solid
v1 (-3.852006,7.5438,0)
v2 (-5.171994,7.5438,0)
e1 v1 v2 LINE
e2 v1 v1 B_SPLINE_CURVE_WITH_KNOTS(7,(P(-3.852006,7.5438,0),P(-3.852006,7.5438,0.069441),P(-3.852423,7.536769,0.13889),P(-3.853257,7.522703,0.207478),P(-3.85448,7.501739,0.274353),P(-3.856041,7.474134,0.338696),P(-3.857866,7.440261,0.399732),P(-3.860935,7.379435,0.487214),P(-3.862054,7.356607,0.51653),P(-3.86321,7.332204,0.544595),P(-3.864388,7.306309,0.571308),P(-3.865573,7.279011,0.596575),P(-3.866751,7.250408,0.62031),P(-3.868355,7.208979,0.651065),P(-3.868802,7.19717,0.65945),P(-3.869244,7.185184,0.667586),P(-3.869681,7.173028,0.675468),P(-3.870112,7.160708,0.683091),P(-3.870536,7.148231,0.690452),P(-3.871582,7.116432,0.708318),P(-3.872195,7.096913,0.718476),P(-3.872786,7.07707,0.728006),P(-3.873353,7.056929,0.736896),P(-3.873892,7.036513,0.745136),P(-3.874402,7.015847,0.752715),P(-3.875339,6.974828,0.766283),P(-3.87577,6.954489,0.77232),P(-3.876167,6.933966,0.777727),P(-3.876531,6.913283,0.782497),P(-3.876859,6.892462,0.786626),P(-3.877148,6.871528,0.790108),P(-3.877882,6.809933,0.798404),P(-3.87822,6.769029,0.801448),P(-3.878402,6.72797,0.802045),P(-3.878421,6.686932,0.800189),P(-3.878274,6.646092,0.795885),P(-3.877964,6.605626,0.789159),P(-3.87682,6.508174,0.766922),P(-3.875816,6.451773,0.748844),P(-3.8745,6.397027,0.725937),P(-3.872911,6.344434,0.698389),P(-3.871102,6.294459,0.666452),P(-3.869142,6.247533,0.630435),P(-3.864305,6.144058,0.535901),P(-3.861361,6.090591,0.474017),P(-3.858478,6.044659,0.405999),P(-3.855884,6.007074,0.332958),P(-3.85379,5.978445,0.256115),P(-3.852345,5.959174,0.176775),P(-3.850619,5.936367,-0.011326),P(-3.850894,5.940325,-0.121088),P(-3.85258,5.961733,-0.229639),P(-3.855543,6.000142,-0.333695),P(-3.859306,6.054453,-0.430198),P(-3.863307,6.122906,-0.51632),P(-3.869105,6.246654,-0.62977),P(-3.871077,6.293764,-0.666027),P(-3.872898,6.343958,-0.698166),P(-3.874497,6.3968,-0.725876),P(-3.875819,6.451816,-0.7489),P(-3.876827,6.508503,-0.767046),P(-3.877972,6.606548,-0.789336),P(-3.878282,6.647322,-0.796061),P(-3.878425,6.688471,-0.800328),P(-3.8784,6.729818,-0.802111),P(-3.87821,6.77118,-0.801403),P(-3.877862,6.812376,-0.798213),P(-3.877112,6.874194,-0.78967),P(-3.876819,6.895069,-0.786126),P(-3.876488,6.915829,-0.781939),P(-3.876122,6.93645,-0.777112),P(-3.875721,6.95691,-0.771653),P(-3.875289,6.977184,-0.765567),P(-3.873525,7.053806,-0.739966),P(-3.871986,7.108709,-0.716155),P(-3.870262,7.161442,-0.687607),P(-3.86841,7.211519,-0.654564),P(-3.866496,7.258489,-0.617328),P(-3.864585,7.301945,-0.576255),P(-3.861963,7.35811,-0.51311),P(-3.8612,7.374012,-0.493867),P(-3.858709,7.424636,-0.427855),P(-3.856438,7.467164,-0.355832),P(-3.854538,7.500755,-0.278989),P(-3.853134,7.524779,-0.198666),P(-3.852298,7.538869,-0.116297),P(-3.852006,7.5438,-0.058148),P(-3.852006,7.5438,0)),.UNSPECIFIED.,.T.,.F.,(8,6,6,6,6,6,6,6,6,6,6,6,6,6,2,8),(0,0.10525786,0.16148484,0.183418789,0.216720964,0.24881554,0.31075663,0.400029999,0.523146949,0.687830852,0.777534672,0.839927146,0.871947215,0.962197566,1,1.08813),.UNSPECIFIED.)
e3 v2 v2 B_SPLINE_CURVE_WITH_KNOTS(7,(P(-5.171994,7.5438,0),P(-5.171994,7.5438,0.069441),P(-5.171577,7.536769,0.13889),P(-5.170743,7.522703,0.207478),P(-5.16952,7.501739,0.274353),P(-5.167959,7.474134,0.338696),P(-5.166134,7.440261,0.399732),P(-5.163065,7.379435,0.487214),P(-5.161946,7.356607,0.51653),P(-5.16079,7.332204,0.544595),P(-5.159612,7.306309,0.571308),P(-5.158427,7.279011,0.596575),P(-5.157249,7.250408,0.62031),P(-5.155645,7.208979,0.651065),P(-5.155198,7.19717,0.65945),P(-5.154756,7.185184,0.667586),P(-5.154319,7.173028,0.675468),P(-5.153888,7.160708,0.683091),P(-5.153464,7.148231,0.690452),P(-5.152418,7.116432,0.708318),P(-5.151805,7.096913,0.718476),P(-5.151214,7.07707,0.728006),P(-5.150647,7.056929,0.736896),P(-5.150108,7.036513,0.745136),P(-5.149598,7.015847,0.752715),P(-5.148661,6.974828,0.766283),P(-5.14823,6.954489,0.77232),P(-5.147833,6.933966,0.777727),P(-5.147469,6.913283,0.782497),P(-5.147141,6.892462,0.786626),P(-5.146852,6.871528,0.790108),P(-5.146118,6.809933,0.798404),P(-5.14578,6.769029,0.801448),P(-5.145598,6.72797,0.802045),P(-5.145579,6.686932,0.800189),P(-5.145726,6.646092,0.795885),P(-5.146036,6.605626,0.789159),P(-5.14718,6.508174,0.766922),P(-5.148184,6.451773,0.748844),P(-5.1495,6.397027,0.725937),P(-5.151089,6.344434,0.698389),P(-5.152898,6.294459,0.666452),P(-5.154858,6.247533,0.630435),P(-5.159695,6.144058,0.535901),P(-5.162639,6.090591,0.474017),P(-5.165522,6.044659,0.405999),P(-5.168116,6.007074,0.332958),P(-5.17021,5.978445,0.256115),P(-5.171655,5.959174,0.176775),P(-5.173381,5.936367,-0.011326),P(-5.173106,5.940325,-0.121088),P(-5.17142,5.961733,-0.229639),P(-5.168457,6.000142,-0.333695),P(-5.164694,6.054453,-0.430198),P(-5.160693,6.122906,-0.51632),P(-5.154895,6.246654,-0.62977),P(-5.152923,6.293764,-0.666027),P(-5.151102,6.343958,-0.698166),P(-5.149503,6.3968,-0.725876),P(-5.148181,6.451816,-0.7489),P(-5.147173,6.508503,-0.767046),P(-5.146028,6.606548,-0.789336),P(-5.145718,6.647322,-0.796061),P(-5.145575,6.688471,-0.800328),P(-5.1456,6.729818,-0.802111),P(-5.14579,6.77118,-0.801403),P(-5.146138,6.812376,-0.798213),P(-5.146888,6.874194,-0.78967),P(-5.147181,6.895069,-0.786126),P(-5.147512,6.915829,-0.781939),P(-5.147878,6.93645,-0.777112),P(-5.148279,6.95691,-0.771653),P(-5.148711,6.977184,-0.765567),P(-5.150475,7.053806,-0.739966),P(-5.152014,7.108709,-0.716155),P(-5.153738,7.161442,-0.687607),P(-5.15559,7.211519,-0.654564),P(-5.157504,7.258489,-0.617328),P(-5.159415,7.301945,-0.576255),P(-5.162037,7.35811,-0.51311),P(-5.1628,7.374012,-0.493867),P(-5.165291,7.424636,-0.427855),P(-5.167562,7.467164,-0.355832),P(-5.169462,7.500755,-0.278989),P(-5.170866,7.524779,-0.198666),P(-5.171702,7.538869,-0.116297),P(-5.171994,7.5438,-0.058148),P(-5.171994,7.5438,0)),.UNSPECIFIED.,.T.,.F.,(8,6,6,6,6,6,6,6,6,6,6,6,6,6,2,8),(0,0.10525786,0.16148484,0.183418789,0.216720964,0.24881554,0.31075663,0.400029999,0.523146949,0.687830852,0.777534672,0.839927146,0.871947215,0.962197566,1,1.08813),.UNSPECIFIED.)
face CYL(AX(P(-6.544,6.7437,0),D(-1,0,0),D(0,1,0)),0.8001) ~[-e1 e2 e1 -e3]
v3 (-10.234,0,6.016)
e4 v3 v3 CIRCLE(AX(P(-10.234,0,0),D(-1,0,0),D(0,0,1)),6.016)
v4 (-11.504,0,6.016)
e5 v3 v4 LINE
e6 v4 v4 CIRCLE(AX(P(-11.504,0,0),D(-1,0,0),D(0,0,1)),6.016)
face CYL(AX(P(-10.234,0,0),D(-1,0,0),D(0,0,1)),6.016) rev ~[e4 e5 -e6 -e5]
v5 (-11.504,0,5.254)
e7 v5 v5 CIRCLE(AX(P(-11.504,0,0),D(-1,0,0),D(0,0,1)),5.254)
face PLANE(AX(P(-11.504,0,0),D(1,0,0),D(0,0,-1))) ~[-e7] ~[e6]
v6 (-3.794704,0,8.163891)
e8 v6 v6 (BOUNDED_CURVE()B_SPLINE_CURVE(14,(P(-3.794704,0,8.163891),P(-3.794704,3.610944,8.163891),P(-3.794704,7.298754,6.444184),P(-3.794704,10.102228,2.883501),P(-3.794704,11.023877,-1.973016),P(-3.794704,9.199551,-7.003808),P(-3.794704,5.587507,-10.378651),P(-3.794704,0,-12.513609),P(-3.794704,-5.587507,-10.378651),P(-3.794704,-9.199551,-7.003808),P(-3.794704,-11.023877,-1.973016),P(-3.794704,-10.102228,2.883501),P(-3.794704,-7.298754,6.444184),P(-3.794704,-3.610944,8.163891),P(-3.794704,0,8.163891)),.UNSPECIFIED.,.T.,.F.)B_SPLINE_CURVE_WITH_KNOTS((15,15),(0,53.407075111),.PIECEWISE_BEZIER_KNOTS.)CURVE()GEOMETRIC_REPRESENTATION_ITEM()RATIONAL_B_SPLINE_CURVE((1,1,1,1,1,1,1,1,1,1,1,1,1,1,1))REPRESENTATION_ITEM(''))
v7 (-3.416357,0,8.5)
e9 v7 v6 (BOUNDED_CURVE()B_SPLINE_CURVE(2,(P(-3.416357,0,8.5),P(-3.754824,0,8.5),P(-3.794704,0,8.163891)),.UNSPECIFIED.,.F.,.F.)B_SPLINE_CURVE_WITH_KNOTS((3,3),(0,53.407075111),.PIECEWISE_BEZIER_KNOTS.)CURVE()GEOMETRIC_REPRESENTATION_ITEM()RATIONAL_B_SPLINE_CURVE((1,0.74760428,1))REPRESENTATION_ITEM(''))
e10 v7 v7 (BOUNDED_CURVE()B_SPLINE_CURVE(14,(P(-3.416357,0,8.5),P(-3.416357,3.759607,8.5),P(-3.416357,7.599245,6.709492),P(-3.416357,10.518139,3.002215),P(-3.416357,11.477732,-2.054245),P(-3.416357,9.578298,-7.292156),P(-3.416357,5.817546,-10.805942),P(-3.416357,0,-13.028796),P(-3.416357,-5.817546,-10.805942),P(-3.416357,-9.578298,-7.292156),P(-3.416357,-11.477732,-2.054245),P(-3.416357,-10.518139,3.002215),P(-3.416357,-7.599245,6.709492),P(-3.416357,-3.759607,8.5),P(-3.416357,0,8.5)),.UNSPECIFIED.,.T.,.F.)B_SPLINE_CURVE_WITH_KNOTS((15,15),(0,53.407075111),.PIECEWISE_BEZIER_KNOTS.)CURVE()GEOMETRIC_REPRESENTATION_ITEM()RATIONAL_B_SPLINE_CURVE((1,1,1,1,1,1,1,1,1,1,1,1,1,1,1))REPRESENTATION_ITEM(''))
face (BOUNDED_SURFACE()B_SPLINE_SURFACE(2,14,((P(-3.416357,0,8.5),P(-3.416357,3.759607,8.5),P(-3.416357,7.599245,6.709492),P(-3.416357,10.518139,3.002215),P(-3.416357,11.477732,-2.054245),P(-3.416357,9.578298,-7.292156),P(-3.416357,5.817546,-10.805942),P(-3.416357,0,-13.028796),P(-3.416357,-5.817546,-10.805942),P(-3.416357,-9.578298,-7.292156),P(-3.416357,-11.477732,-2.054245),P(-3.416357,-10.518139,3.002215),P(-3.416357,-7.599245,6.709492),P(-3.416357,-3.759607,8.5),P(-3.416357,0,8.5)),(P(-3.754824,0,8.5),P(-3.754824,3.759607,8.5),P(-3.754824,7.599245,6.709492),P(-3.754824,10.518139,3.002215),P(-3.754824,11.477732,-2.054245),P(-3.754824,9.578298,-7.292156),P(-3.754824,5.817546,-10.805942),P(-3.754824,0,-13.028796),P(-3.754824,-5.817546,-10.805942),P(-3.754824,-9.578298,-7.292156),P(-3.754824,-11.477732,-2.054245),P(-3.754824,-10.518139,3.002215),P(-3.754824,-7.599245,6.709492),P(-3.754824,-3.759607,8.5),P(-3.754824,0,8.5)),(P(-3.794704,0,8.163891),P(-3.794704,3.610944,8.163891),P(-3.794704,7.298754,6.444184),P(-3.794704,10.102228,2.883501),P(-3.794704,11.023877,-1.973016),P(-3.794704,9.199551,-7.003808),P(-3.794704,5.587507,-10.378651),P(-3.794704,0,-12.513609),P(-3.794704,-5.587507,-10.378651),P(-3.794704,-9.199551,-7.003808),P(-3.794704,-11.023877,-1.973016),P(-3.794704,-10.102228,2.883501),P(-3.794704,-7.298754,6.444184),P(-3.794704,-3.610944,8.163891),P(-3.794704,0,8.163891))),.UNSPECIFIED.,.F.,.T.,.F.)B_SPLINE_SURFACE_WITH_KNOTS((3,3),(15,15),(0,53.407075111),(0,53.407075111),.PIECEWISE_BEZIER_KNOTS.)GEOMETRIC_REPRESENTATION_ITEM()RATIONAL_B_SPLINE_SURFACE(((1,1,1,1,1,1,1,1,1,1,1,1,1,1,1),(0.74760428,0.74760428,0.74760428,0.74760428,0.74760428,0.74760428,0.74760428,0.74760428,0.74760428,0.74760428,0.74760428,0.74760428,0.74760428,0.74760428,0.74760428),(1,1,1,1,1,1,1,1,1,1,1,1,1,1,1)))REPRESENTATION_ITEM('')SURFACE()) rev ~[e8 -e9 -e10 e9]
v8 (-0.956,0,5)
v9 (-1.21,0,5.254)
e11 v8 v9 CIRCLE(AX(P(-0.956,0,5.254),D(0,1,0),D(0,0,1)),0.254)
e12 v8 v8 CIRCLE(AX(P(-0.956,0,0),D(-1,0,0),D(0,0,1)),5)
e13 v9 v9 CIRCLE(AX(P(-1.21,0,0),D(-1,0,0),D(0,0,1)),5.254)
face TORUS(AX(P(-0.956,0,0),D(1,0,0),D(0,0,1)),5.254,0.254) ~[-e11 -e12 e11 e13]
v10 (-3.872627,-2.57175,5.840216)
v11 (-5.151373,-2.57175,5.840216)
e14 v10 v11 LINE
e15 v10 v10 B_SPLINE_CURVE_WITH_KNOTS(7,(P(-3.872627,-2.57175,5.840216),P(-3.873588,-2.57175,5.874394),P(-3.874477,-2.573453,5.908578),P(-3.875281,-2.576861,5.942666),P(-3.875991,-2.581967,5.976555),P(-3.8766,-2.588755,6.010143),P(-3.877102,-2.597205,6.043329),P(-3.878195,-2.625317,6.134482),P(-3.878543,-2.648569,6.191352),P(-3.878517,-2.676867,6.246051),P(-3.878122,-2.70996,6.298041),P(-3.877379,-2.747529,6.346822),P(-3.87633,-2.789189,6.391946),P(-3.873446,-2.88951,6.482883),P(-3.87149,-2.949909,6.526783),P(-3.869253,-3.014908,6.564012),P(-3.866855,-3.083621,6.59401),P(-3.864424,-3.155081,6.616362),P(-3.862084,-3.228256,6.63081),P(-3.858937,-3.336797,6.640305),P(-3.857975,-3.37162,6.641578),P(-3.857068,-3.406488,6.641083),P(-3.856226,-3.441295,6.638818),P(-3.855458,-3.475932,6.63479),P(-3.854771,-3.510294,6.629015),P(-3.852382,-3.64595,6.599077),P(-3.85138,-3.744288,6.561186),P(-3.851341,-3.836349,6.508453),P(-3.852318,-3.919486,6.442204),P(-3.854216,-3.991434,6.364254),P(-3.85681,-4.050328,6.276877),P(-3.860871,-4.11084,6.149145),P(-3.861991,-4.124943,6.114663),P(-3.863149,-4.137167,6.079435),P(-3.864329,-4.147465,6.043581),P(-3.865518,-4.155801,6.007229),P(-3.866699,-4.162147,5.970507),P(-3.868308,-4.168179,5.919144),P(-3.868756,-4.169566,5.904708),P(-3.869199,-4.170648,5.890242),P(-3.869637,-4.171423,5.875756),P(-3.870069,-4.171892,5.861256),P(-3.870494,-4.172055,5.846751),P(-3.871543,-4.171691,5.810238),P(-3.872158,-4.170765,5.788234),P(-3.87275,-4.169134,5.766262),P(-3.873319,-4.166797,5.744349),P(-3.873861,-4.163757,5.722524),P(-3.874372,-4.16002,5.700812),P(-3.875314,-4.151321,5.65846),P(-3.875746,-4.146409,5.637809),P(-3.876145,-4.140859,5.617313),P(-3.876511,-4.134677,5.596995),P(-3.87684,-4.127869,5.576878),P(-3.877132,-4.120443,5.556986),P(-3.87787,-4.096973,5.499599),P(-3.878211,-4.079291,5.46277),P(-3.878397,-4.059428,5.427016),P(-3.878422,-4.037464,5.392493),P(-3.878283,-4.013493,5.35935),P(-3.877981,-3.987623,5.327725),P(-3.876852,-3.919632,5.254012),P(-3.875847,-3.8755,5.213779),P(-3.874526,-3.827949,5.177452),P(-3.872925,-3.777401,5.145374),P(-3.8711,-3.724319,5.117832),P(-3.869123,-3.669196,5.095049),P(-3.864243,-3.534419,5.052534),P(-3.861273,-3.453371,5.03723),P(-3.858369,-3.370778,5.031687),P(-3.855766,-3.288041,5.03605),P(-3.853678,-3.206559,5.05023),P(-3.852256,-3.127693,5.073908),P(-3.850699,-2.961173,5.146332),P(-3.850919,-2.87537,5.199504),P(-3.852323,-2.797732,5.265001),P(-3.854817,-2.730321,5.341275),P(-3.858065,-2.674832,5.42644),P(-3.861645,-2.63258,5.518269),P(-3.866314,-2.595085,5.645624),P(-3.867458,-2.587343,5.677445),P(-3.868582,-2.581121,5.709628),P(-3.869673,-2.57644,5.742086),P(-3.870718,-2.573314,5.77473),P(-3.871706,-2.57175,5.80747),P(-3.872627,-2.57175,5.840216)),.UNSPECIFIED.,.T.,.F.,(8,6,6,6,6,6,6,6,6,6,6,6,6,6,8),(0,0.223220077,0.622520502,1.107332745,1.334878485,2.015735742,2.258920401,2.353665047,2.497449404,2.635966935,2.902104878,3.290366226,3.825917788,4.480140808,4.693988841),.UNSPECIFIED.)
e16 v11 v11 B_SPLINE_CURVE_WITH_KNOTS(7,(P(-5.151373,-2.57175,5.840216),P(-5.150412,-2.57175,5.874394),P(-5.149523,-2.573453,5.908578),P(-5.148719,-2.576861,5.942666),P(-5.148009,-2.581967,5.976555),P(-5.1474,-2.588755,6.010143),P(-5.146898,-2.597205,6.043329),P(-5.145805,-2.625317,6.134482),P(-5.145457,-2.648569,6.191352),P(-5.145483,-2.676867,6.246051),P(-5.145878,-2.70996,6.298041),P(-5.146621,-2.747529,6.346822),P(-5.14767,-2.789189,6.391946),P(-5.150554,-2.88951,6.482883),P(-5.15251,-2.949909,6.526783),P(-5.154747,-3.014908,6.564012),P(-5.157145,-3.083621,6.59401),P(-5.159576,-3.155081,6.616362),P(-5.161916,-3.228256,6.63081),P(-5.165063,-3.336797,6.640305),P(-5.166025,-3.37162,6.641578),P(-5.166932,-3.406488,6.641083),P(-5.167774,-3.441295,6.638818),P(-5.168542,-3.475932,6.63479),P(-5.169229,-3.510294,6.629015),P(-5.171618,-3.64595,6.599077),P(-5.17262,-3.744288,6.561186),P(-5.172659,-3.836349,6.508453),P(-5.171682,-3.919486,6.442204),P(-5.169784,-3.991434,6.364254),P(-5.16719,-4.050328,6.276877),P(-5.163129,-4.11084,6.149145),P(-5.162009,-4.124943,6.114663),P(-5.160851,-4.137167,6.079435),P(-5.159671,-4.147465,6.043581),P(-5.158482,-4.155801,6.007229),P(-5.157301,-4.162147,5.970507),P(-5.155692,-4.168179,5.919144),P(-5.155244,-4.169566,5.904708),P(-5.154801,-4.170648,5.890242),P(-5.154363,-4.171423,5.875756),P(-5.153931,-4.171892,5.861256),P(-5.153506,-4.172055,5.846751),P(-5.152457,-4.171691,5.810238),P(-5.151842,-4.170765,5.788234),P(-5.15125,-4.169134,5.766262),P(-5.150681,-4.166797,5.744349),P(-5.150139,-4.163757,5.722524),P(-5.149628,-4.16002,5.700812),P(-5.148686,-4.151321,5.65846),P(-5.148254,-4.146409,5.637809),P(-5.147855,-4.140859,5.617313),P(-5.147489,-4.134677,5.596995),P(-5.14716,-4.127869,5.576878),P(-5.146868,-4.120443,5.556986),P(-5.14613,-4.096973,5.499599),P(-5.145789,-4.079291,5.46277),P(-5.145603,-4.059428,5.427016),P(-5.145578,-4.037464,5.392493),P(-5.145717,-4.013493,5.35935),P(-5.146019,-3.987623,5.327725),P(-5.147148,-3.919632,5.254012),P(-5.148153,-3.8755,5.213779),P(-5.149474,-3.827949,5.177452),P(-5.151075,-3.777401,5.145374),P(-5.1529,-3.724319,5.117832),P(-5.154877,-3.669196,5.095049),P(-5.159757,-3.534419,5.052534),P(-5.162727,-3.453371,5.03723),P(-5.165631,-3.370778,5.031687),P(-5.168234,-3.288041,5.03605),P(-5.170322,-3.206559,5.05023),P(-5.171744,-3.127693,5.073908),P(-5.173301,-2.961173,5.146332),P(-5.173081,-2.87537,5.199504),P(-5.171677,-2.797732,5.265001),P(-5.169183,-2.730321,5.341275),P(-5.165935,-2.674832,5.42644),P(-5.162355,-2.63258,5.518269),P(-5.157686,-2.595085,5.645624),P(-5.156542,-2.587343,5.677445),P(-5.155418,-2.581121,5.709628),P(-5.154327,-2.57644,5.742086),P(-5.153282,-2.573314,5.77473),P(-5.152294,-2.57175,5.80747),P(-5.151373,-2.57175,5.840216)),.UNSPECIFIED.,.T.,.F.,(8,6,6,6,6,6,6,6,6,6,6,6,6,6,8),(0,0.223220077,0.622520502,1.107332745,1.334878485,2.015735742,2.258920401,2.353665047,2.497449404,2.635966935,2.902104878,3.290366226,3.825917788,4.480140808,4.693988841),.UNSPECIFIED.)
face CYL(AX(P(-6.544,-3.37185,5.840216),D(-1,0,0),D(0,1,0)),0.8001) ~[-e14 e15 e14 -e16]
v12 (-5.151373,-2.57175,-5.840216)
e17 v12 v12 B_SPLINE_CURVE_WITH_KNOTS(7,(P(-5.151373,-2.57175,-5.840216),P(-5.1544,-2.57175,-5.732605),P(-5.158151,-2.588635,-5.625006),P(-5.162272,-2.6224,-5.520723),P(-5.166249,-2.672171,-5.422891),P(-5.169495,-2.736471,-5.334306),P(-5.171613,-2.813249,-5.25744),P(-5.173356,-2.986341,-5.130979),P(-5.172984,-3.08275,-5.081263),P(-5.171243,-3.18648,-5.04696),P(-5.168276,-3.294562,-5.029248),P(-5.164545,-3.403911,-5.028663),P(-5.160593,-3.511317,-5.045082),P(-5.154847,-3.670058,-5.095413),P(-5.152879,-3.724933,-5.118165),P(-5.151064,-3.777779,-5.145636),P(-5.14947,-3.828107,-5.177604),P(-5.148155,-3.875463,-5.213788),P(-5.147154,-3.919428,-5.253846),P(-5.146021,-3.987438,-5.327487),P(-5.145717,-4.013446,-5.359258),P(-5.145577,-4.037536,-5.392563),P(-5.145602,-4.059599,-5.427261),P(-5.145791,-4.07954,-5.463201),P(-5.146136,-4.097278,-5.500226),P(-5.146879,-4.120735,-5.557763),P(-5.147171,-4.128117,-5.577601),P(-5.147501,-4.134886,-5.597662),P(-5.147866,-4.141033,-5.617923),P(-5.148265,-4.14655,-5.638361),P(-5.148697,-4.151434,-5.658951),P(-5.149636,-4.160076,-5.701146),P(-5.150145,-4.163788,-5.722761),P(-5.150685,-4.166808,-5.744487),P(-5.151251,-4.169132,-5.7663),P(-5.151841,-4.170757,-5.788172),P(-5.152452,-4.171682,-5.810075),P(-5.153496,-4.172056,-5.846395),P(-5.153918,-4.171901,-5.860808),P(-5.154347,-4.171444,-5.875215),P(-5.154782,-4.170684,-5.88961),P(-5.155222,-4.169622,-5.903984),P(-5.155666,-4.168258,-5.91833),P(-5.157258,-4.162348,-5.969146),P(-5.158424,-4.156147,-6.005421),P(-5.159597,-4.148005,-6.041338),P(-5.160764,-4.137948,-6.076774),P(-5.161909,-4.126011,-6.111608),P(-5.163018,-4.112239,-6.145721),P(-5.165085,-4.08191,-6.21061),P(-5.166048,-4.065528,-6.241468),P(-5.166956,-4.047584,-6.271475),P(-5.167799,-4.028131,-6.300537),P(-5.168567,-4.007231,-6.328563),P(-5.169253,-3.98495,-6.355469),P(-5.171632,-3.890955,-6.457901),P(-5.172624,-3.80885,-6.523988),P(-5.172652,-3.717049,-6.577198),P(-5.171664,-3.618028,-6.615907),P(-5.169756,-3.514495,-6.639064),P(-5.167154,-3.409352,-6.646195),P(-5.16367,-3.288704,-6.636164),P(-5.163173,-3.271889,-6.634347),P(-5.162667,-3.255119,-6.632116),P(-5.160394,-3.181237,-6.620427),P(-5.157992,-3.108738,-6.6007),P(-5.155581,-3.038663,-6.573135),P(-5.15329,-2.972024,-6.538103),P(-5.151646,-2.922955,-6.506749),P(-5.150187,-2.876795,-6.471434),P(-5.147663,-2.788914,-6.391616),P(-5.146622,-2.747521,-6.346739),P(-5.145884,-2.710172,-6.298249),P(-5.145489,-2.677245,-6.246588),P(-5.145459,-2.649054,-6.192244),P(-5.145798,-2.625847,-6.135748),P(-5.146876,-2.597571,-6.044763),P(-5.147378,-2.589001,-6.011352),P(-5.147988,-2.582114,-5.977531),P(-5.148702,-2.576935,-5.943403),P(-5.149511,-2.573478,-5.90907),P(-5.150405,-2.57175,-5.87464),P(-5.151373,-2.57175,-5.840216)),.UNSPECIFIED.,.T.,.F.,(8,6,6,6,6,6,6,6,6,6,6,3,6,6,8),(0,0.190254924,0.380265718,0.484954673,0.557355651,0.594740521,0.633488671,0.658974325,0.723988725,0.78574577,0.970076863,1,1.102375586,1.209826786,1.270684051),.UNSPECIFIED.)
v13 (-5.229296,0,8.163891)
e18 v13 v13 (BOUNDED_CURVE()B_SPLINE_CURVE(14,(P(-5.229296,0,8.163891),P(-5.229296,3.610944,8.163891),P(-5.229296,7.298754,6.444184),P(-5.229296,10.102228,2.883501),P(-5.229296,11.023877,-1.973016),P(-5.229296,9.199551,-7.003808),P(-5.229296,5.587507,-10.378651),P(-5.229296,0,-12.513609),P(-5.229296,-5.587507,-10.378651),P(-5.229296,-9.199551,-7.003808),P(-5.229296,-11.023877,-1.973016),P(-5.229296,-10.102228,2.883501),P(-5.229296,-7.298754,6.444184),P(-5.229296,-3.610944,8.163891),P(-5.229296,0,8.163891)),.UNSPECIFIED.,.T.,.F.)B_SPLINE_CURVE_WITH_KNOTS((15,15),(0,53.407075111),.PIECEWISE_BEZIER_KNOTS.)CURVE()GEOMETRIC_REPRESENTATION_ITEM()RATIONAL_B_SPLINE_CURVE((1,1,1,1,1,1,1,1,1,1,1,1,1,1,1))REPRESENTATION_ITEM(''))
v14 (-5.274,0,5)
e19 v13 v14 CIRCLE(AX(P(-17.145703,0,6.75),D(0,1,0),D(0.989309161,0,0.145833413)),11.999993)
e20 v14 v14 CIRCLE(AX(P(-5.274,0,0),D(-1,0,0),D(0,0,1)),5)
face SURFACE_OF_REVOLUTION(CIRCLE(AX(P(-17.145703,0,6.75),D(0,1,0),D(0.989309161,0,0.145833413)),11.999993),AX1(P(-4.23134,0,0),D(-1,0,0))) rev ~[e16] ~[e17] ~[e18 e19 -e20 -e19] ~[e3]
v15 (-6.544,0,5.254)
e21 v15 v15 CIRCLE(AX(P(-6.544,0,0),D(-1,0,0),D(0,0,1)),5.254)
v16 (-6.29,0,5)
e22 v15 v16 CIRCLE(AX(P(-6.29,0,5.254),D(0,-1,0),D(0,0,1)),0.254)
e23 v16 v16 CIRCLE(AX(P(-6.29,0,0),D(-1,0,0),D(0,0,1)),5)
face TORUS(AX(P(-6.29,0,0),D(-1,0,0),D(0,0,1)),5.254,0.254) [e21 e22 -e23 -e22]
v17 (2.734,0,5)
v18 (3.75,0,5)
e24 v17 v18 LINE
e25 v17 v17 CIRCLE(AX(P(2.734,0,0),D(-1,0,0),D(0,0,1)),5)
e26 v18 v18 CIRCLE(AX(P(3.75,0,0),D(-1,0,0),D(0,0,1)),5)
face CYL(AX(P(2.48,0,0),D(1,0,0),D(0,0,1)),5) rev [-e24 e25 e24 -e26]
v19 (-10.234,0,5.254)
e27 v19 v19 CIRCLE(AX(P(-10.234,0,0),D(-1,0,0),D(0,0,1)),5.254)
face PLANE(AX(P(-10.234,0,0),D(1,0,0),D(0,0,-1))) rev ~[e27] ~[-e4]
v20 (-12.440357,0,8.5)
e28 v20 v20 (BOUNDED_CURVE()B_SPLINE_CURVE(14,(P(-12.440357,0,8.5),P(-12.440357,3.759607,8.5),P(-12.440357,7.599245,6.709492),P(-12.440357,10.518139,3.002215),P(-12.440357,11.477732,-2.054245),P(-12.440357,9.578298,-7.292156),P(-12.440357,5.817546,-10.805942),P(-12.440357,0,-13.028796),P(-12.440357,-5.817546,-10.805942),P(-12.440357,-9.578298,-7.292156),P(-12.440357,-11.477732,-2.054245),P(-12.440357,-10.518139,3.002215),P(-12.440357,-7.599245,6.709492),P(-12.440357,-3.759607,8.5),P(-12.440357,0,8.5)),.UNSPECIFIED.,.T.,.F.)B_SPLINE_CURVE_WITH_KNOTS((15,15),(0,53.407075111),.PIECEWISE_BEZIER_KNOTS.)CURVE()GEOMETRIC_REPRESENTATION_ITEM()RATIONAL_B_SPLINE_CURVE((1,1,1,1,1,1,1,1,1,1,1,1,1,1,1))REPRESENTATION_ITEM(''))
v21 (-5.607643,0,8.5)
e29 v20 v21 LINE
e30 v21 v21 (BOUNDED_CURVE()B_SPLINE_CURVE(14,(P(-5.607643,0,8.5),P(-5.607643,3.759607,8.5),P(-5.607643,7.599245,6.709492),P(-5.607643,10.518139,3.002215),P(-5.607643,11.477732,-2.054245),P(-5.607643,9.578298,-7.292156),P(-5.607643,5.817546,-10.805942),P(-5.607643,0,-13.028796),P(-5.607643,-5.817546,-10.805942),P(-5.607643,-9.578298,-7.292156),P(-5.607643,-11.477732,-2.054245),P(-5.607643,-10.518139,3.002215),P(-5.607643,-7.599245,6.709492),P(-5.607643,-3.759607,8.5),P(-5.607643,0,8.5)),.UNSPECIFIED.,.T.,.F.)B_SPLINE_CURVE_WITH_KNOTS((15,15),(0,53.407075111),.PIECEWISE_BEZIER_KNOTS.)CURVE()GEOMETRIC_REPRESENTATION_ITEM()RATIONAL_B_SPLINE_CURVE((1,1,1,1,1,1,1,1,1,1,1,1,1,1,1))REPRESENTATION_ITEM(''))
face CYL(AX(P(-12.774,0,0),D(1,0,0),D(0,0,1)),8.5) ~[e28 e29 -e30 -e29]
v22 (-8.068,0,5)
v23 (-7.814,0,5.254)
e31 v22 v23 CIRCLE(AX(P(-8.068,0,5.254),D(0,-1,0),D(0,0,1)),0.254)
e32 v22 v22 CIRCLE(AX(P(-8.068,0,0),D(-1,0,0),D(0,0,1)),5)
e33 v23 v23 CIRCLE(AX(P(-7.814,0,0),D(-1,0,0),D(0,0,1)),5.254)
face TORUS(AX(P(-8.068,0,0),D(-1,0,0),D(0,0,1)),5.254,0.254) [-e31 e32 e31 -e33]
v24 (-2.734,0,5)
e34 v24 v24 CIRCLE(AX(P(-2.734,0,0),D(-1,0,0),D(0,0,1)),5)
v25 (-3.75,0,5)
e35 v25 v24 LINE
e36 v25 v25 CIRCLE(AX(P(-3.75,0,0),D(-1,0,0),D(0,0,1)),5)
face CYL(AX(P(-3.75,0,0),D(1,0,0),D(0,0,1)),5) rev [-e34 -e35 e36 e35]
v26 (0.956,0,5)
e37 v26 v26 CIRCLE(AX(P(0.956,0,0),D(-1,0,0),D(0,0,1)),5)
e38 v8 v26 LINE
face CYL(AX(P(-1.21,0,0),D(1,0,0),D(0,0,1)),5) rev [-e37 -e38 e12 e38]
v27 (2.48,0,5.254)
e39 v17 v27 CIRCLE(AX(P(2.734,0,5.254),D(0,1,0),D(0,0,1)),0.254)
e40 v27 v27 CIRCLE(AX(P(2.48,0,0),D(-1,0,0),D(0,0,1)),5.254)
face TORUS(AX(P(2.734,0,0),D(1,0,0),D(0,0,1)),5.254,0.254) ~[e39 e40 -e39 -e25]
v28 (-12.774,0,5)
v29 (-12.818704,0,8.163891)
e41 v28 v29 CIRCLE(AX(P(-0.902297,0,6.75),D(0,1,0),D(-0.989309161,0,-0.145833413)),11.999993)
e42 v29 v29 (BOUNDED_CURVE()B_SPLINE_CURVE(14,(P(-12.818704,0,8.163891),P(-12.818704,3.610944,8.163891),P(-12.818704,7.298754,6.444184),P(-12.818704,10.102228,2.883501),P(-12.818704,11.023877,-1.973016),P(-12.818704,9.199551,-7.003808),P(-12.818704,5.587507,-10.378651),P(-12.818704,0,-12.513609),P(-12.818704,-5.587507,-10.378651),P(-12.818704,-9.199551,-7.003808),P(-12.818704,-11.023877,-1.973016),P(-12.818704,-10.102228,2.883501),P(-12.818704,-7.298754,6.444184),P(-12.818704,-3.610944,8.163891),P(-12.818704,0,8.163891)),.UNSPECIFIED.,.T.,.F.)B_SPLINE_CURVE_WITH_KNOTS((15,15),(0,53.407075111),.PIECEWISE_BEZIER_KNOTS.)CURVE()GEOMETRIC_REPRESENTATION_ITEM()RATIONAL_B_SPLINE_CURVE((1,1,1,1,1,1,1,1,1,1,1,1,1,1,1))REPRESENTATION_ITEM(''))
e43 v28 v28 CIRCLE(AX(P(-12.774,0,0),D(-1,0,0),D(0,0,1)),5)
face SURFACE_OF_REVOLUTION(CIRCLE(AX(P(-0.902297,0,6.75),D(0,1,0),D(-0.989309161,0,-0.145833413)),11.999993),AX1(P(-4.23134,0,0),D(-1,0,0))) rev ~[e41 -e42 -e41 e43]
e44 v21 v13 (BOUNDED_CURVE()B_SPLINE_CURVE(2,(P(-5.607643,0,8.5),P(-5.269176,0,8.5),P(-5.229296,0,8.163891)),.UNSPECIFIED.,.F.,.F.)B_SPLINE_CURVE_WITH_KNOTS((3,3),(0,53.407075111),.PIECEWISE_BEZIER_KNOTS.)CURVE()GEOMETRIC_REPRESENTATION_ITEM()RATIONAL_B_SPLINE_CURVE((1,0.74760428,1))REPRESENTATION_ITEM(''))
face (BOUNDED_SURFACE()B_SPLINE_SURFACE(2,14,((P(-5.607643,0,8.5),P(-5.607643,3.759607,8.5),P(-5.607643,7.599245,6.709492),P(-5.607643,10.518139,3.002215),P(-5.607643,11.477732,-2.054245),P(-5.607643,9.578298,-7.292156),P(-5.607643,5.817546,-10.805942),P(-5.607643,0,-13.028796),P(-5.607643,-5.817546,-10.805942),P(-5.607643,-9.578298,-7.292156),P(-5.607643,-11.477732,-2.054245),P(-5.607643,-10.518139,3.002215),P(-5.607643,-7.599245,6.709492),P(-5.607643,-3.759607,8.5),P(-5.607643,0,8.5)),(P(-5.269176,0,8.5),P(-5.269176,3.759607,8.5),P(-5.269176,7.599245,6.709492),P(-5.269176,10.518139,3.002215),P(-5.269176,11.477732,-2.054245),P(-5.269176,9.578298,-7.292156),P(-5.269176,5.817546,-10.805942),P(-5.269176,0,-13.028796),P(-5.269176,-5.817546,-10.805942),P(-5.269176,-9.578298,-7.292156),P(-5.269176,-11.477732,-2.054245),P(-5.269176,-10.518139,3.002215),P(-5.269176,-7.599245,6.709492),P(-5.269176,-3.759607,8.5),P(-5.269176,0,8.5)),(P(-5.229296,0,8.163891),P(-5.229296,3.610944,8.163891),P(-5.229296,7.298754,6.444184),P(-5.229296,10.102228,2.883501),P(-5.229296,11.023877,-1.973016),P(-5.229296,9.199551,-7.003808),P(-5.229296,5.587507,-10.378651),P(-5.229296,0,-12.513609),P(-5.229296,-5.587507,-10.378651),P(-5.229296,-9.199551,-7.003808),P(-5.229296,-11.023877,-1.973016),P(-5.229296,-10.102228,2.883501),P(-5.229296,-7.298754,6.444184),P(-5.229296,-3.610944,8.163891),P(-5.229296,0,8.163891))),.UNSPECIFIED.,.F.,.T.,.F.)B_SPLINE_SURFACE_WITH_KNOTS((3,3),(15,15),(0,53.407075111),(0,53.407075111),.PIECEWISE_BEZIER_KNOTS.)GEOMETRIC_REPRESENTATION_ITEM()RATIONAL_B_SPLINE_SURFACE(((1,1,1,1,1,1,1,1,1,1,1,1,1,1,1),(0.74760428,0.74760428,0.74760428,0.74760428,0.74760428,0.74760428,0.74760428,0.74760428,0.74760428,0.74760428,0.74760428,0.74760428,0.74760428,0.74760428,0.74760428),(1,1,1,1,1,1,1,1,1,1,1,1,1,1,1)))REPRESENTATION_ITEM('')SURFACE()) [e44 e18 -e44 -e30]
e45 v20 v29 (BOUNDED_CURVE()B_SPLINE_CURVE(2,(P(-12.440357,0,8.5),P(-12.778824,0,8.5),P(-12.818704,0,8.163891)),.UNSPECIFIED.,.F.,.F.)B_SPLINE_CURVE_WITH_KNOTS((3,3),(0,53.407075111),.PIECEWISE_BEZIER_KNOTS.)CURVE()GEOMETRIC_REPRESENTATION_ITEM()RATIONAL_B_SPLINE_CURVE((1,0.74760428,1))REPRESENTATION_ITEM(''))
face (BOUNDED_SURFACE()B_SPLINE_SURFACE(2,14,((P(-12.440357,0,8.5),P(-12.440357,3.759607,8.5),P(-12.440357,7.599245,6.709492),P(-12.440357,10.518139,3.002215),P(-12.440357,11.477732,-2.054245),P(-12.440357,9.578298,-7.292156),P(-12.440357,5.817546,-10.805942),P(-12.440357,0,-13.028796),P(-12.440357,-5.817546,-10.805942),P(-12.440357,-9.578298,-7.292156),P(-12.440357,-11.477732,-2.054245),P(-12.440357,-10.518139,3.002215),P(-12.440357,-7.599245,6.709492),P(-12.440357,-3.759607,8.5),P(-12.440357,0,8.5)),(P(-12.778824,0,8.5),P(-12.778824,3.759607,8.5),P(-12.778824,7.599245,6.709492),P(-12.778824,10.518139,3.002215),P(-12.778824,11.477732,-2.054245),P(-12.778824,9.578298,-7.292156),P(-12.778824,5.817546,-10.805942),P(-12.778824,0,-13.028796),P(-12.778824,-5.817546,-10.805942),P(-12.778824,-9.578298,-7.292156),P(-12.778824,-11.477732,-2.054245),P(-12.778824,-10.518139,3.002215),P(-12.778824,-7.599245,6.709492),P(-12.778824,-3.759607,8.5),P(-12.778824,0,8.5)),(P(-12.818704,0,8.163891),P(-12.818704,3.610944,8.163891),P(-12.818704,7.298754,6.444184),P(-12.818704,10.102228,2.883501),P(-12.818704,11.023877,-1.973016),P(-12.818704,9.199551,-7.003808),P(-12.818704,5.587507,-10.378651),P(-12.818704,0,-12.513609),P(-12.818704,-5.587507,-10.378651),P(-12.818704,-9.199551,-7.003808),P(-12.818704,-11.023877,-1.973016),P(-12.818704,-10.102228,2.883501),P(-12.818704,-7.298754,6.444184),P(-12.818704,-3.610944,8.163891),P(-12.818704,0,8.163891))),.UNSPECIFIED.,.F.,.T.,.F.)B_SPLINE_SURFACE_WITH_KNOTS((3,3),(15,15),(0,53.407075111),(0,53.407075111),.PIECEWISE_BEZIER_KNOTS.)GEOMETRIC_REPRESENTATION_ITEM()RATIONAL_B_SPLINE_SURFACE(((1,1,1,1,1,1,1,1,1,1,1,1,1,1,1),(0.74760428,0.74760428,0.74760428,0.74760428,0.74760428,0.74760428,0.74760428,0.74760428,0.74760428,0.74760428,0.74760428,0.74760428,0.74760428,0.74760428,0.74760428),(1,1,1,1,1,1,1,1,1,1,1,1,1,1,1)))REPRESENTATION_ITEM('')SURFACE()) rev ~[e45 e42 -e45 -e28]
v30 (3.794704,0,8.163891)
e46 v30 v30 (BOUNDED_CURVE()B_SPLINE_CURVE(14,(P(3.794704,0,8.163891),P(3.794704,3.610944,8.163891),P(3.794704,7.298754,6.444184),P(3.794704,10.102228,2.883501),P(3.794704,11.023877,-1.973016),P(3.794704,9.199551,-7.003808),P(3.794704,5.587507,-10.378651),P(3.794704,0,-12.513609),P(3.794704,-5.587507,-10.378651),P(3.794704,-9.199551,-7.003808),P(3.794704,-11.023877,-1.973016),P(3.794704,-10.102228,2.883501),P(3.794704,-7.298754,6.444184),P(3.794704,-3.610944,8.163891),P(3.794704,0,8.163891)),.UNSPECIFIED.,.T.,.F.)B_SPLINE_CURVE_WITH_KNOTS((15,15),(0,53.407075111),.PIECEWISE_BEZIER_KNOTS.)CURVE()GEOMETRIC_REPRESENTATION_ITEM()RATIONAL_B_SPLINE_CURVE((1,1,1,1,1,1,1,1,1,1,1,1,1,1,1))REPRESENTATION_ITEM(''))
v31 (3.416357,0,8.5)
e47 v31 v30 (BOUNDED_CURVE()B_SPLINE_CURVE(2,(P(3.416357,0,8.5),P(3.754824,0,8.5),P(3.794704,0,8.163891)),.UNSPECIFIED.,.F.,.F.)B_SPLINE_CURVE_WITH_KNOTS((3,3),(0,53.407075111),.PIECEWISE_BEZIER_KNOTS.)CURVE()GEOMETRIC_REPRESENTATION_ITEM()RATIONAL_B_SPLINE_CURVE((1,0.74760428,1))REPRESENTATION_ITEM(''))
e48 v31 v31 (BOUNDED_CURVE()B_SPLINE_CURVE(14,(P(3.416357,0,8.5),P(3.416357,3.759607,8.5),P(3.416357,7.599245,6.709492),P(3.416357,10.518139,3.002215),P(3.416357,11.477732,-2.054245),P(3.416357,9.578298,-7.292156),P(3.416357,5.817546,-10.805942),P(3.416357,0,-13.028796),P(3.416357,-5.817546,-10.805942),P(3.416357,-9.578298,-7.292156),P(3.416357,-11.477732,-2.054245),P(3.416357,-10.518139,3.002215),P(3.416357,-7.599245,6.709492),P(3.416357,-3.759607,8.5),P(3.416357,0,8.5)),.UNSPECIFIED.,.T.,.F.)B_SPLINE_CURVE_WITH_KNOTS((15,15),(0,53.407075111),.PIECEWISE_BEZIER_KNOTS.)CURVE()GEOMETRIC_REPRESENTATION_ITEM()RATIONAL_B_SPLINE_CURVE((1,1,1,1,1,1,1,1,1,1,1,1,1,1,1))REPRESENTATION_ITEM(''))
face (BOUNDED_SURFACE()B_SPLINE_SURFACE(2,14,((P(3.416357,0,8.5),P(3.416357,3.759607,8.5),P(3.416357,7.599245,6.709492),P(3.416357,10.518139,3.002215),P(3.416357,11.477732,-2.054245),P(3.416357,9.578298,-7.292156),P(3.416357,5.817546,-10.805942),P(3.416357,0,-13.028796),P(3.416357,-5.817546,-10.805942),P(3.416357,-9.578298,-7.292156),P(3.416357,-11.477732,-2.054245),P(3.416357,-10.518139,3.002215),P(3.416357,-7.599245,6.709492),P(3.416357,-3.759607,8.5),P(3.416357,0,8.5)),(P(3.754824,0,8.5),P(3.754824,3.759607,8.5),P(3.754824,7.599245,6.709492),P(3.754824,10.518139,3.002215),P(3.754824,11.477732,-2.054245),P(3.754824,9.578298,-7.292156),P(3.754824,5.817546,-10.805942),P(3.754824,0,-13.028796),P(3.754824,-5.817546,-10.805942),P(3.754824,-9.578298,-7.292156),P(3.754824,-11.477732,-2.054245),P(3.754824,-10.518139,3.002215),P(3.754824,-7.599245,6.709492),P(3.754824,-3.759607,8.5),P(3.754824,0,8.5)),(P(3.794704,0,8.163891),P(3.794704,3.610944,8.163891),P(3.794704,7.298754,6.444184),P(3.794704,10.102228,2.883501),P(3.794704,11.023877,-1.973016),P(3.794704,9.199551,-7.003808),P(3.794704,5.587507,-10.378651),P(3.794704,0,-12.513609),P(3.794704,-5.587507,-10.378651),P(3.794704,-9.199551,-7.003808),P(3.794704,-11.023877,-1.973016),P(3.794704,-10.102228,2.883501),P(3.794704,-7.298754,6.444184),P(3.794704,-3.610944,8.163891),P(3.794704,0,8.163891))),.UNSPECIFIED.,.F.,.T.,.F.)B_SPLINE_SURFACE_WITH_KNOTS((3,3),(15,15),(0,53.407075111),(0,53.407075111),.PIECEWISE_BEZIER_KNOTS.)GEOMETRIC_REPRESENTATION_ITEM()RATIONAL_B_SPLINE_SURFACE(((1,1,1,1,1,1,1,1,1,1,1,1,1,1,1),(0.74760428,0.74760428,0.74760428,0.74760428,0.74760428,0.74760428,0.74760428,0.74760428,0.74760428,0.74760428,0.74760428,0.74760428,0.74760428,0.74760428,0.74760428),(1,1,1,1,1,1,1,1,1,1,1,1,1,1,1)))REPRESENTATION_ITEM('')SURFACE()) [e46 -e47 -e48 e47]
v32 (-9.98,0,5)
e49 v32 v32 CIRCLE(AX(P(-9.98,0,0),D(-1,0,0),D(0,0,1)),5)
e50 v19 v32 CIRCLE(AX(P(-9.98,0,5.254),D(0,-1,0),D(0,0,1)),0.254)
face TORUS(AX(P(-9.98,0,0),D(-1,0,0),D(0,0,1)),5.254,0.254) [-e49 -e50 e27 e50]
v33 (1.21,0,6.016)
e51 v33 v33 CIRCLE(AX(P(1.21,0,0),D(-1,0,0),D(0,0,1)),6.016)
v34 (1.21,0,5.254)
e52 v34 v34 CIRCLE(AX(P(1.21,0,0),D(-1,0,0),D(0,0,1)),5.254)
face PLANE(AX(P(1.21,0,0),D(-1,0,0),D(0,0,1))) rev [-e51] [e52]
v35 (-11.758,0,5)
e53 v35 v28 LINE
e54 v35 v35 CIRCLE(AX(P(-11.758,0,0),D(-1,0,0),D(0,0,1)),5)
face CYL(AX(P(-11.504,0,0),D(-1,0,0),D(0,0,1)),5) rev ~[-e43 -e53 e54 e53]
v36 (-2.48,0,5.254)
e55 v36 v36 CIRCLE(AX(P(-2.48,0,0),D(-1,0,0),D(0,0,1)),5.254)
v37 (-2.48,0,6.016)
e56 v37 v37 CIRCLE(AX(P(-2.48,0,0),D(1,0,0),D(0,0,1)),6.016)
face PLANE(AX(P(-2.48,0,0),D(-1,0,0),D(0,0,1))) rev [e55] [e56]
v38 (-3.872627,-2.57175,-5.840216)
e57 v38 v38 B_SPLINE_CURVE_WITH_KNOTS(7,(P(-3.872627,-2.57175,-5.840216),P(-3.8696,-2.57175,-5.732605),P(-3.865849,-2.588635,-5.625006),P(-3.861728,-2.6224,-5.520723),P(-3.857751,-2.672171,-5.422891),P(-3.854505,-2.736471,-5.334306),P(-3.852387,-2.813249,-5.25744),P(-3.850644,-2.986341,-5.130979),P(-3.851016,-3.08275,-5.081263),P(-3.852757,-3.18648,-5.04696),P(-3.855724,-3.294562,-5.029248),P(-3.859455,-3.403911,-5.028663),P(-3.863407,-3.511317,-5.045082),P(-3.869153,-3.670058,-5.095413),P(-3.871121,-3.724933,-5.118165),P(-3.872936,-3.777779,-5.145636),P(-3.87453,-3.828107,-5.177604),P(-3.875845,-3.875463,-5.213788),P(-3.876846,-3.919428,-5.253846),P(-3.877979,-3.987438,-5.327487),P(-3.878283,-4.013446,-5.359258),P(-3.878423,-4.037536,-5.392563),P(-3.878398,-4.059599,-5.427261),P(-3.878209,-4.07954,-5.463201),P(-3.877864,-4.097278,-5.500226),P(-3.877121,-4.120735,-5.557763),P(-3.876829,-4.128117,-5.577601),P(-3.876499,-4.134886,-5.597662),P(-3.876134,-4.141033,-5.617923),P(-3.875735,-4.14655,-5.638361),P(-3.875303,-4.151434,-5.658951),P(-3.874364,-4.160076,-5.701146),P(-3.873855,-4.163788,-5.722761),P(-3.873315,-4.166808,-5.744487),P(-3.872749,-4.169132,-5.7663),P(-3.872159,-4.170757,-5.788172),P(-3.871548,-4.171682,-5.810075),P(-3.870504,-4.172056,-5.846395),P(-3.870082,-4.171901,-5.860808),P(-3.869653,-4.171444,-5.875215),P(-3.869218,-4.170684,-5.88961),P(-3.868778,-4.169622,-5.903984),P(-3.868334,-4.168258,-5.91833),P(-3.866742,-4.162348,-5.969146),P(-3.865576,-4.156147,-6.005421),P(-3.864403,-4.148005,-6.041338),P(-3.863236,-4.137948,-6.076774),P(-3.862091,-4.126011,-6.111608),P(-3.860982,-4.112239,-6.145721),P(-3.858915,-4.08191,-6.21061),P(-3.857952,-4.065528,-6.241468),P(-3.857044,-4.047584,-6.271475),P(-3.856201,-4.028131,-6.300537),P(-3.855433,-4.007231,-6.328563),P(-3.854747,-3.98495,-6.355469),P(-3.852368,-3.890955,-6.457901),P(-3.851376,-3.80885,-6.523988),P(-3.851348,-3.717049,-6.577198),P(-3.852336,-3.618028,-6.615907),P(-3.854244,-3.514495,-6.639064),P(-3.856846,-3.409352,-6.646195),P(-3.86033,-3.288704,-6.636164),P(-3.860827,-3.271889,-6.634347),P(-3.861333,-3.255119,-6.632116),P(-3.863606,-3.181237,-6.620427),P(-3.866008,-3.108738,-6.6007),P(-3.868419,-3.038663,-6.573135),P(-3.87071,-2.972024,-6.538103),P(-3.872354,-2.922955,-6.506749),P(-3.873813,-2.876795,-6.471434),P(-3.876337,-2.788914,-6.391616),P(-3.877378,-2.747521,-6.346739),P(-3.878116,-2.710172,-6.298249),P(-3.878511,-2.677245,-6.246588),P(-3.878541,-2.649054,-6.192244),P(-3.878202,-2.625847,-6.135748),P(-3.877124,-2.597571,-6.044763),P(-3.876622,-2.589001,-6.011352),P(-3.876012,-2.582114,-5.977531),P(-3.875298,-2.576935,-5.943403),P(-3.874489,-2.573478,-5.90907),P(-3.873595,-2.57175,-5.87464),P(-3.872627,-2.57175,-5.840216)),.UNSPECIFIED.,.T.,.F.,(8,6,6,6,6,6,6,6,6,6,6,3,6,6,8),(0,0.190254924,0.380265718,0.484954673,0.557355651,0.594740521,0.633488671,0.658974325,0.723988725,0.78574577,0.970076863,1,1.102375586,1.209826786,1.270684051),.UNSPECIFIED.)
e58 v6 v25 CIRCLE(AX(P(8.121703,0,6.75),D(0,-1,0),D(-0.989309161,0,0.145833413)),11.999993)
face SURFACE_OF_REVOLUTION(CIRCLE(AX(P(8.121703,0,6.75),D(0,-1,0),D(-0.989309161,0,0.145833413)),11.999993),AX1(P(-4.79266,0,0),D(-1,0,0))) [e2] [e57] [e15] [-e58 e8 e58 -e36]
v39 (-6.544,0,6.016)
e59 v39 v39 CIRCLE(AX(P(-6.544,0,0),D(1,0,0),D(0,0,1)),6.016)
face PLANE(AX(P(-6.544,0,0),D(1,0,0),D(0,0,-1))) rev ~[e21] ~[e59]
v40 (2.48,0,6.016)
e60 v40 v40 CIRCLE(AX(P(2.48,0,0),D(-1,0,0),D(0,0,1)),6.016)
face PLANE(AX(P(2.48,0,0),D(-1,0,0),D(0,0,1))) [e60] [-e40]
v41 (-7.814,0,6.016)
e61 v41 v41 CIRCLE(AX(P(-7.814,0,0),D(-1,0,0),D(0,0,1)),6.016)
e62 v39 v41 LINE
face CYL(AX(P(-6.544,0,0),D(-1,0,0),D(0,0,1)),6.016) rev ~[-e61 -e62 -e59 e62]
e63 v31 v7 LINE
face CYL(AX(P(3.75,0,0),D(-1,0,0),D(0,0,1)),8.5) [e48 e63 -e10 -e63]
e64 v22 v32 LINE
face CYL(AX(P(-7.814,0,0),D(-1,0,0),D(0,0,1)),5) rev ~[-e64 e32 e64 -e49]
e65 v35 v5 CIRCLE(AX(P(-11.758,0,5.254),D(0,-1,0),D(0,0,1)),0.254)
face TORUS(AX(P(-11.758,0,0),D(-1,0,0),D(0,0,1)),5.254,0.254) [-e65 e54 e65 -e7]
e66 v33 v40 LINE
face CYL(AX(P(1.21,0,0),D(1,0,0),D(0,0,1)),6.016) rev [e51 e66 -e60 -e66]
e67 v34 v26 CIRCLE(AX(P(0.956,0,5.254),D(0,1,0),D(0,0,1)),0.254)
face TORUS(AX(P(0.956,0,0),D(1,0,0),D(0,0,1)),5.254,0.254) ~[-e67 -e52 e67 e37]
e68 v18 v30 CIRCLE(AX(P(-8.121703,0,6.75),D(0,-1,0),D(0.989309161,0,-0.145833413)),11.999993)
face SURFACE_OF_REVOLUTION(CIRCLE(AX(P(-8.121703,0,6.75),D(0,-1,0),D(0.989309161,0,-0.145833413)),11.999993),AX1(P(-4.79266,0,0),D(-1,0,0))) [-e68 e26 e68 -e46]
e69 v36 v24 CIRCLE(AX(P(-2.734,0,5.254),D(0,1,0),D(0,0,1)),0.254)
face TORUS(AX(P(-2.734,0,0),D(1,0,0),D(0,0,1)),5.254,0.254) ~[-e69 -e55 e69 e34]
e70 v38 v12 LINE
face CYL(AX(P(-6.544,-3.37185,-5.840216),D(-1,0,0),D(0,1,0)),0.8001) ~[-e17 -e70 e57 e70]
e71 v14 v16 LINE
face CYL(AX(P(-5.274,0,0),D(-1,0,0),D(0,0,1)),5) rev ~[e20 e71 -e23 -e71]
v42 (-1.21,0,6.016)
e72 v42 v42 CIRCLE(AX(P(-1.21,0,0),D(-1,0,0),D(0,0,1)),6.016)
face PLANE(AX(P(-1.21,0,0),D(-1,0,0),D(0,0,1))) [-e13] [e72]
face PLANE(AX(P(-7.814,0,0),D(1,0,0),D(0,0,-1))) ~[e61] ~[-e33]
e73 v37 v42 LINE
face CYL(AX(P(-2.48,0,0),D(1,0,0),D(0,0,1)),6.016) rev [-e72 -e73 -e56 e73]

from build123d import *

# Parameters (mm, degrees)
F2_R     = 0.381
F3_R     = 0.8001
F4_DEPTH = 2.032
F5_R     = 0.254


with BuildPart() as f1:
    # F0 (on Front) → F1 (revolve)
    with BuildSketch(Plane.XZ):
        with BuildLine():
            Line((3.75, 8.5), (-3.75, 8.5))
            ThreePointArc((-3.75, 8.5), (-3.87829, 6.75), (-3.75, 5))
            Line((-3.75, 5), (-2.48, 5))
            Line((-2.48, 5), (-2.48, 6.016))
            Line((-2.48, 6.016), (-1.21, 6.016))
            Line((-1.21, 6.016), (-1.21, 5))
            Line((-1.21, 5), (0, 5))
            Line((0, 5), (1.21, 5))
            Line((1.21, 5), (1.21, 6.016))
            Line((1.21, 6.016), (2.48, 6.016))
            Line((2.48, 6.016), (2.48, 5))
            Line((2.48, 5), (3.75, 5))
            ThreePointArc((3.75, 5), (3.87829, 6.75), (3.75, 8.5))
        make_face()
    revolve(axis=Axis((-4.79266, 0, 0), (-1, 0, 0)))

    # F2
    f2_edges = [f1.edges().sort_by_distance(p)[0] for p in [
        (-3.75, 0, -8.5),
        (3.75, 0, -8.5),
    ]]
    fillet(f2_edges, radius=F2_R)

    # F3 (on face) → F4 (join)
    with BuildSketch(Plane.YZ.offset(-2.48)):
        with Locations((6.7437, 0)):
            Circle(F3_R)
        with Locations((-3.37185, 5.840216)):
            Circle(F3_R)
        with Locations((-3.37185, -5.840216)):
            Circle(F3_R)
    extrude(amount=-F4_DEPTH)

    # F5
    f5_edges = [f1.edges().sort_by_distance(p)[0] for p in [
        (-2.48, 0, -5),
        (-1.21, 0, -5),
        (1.21, 0, -5),
        (2.48, 0, -5),
    ]]
    fillet(f5_edges, radius=F5_R)

    # F6: F1 across face


with BuildPart() as f1_1:
    add(f1.part)
    add(f1.part.mirror(Plane(origin=(-4.512, 6.7437, 0), x_dir=(0, 1, 0), z_dir=(-1, 0, 0))))


solid = f1_1.part
